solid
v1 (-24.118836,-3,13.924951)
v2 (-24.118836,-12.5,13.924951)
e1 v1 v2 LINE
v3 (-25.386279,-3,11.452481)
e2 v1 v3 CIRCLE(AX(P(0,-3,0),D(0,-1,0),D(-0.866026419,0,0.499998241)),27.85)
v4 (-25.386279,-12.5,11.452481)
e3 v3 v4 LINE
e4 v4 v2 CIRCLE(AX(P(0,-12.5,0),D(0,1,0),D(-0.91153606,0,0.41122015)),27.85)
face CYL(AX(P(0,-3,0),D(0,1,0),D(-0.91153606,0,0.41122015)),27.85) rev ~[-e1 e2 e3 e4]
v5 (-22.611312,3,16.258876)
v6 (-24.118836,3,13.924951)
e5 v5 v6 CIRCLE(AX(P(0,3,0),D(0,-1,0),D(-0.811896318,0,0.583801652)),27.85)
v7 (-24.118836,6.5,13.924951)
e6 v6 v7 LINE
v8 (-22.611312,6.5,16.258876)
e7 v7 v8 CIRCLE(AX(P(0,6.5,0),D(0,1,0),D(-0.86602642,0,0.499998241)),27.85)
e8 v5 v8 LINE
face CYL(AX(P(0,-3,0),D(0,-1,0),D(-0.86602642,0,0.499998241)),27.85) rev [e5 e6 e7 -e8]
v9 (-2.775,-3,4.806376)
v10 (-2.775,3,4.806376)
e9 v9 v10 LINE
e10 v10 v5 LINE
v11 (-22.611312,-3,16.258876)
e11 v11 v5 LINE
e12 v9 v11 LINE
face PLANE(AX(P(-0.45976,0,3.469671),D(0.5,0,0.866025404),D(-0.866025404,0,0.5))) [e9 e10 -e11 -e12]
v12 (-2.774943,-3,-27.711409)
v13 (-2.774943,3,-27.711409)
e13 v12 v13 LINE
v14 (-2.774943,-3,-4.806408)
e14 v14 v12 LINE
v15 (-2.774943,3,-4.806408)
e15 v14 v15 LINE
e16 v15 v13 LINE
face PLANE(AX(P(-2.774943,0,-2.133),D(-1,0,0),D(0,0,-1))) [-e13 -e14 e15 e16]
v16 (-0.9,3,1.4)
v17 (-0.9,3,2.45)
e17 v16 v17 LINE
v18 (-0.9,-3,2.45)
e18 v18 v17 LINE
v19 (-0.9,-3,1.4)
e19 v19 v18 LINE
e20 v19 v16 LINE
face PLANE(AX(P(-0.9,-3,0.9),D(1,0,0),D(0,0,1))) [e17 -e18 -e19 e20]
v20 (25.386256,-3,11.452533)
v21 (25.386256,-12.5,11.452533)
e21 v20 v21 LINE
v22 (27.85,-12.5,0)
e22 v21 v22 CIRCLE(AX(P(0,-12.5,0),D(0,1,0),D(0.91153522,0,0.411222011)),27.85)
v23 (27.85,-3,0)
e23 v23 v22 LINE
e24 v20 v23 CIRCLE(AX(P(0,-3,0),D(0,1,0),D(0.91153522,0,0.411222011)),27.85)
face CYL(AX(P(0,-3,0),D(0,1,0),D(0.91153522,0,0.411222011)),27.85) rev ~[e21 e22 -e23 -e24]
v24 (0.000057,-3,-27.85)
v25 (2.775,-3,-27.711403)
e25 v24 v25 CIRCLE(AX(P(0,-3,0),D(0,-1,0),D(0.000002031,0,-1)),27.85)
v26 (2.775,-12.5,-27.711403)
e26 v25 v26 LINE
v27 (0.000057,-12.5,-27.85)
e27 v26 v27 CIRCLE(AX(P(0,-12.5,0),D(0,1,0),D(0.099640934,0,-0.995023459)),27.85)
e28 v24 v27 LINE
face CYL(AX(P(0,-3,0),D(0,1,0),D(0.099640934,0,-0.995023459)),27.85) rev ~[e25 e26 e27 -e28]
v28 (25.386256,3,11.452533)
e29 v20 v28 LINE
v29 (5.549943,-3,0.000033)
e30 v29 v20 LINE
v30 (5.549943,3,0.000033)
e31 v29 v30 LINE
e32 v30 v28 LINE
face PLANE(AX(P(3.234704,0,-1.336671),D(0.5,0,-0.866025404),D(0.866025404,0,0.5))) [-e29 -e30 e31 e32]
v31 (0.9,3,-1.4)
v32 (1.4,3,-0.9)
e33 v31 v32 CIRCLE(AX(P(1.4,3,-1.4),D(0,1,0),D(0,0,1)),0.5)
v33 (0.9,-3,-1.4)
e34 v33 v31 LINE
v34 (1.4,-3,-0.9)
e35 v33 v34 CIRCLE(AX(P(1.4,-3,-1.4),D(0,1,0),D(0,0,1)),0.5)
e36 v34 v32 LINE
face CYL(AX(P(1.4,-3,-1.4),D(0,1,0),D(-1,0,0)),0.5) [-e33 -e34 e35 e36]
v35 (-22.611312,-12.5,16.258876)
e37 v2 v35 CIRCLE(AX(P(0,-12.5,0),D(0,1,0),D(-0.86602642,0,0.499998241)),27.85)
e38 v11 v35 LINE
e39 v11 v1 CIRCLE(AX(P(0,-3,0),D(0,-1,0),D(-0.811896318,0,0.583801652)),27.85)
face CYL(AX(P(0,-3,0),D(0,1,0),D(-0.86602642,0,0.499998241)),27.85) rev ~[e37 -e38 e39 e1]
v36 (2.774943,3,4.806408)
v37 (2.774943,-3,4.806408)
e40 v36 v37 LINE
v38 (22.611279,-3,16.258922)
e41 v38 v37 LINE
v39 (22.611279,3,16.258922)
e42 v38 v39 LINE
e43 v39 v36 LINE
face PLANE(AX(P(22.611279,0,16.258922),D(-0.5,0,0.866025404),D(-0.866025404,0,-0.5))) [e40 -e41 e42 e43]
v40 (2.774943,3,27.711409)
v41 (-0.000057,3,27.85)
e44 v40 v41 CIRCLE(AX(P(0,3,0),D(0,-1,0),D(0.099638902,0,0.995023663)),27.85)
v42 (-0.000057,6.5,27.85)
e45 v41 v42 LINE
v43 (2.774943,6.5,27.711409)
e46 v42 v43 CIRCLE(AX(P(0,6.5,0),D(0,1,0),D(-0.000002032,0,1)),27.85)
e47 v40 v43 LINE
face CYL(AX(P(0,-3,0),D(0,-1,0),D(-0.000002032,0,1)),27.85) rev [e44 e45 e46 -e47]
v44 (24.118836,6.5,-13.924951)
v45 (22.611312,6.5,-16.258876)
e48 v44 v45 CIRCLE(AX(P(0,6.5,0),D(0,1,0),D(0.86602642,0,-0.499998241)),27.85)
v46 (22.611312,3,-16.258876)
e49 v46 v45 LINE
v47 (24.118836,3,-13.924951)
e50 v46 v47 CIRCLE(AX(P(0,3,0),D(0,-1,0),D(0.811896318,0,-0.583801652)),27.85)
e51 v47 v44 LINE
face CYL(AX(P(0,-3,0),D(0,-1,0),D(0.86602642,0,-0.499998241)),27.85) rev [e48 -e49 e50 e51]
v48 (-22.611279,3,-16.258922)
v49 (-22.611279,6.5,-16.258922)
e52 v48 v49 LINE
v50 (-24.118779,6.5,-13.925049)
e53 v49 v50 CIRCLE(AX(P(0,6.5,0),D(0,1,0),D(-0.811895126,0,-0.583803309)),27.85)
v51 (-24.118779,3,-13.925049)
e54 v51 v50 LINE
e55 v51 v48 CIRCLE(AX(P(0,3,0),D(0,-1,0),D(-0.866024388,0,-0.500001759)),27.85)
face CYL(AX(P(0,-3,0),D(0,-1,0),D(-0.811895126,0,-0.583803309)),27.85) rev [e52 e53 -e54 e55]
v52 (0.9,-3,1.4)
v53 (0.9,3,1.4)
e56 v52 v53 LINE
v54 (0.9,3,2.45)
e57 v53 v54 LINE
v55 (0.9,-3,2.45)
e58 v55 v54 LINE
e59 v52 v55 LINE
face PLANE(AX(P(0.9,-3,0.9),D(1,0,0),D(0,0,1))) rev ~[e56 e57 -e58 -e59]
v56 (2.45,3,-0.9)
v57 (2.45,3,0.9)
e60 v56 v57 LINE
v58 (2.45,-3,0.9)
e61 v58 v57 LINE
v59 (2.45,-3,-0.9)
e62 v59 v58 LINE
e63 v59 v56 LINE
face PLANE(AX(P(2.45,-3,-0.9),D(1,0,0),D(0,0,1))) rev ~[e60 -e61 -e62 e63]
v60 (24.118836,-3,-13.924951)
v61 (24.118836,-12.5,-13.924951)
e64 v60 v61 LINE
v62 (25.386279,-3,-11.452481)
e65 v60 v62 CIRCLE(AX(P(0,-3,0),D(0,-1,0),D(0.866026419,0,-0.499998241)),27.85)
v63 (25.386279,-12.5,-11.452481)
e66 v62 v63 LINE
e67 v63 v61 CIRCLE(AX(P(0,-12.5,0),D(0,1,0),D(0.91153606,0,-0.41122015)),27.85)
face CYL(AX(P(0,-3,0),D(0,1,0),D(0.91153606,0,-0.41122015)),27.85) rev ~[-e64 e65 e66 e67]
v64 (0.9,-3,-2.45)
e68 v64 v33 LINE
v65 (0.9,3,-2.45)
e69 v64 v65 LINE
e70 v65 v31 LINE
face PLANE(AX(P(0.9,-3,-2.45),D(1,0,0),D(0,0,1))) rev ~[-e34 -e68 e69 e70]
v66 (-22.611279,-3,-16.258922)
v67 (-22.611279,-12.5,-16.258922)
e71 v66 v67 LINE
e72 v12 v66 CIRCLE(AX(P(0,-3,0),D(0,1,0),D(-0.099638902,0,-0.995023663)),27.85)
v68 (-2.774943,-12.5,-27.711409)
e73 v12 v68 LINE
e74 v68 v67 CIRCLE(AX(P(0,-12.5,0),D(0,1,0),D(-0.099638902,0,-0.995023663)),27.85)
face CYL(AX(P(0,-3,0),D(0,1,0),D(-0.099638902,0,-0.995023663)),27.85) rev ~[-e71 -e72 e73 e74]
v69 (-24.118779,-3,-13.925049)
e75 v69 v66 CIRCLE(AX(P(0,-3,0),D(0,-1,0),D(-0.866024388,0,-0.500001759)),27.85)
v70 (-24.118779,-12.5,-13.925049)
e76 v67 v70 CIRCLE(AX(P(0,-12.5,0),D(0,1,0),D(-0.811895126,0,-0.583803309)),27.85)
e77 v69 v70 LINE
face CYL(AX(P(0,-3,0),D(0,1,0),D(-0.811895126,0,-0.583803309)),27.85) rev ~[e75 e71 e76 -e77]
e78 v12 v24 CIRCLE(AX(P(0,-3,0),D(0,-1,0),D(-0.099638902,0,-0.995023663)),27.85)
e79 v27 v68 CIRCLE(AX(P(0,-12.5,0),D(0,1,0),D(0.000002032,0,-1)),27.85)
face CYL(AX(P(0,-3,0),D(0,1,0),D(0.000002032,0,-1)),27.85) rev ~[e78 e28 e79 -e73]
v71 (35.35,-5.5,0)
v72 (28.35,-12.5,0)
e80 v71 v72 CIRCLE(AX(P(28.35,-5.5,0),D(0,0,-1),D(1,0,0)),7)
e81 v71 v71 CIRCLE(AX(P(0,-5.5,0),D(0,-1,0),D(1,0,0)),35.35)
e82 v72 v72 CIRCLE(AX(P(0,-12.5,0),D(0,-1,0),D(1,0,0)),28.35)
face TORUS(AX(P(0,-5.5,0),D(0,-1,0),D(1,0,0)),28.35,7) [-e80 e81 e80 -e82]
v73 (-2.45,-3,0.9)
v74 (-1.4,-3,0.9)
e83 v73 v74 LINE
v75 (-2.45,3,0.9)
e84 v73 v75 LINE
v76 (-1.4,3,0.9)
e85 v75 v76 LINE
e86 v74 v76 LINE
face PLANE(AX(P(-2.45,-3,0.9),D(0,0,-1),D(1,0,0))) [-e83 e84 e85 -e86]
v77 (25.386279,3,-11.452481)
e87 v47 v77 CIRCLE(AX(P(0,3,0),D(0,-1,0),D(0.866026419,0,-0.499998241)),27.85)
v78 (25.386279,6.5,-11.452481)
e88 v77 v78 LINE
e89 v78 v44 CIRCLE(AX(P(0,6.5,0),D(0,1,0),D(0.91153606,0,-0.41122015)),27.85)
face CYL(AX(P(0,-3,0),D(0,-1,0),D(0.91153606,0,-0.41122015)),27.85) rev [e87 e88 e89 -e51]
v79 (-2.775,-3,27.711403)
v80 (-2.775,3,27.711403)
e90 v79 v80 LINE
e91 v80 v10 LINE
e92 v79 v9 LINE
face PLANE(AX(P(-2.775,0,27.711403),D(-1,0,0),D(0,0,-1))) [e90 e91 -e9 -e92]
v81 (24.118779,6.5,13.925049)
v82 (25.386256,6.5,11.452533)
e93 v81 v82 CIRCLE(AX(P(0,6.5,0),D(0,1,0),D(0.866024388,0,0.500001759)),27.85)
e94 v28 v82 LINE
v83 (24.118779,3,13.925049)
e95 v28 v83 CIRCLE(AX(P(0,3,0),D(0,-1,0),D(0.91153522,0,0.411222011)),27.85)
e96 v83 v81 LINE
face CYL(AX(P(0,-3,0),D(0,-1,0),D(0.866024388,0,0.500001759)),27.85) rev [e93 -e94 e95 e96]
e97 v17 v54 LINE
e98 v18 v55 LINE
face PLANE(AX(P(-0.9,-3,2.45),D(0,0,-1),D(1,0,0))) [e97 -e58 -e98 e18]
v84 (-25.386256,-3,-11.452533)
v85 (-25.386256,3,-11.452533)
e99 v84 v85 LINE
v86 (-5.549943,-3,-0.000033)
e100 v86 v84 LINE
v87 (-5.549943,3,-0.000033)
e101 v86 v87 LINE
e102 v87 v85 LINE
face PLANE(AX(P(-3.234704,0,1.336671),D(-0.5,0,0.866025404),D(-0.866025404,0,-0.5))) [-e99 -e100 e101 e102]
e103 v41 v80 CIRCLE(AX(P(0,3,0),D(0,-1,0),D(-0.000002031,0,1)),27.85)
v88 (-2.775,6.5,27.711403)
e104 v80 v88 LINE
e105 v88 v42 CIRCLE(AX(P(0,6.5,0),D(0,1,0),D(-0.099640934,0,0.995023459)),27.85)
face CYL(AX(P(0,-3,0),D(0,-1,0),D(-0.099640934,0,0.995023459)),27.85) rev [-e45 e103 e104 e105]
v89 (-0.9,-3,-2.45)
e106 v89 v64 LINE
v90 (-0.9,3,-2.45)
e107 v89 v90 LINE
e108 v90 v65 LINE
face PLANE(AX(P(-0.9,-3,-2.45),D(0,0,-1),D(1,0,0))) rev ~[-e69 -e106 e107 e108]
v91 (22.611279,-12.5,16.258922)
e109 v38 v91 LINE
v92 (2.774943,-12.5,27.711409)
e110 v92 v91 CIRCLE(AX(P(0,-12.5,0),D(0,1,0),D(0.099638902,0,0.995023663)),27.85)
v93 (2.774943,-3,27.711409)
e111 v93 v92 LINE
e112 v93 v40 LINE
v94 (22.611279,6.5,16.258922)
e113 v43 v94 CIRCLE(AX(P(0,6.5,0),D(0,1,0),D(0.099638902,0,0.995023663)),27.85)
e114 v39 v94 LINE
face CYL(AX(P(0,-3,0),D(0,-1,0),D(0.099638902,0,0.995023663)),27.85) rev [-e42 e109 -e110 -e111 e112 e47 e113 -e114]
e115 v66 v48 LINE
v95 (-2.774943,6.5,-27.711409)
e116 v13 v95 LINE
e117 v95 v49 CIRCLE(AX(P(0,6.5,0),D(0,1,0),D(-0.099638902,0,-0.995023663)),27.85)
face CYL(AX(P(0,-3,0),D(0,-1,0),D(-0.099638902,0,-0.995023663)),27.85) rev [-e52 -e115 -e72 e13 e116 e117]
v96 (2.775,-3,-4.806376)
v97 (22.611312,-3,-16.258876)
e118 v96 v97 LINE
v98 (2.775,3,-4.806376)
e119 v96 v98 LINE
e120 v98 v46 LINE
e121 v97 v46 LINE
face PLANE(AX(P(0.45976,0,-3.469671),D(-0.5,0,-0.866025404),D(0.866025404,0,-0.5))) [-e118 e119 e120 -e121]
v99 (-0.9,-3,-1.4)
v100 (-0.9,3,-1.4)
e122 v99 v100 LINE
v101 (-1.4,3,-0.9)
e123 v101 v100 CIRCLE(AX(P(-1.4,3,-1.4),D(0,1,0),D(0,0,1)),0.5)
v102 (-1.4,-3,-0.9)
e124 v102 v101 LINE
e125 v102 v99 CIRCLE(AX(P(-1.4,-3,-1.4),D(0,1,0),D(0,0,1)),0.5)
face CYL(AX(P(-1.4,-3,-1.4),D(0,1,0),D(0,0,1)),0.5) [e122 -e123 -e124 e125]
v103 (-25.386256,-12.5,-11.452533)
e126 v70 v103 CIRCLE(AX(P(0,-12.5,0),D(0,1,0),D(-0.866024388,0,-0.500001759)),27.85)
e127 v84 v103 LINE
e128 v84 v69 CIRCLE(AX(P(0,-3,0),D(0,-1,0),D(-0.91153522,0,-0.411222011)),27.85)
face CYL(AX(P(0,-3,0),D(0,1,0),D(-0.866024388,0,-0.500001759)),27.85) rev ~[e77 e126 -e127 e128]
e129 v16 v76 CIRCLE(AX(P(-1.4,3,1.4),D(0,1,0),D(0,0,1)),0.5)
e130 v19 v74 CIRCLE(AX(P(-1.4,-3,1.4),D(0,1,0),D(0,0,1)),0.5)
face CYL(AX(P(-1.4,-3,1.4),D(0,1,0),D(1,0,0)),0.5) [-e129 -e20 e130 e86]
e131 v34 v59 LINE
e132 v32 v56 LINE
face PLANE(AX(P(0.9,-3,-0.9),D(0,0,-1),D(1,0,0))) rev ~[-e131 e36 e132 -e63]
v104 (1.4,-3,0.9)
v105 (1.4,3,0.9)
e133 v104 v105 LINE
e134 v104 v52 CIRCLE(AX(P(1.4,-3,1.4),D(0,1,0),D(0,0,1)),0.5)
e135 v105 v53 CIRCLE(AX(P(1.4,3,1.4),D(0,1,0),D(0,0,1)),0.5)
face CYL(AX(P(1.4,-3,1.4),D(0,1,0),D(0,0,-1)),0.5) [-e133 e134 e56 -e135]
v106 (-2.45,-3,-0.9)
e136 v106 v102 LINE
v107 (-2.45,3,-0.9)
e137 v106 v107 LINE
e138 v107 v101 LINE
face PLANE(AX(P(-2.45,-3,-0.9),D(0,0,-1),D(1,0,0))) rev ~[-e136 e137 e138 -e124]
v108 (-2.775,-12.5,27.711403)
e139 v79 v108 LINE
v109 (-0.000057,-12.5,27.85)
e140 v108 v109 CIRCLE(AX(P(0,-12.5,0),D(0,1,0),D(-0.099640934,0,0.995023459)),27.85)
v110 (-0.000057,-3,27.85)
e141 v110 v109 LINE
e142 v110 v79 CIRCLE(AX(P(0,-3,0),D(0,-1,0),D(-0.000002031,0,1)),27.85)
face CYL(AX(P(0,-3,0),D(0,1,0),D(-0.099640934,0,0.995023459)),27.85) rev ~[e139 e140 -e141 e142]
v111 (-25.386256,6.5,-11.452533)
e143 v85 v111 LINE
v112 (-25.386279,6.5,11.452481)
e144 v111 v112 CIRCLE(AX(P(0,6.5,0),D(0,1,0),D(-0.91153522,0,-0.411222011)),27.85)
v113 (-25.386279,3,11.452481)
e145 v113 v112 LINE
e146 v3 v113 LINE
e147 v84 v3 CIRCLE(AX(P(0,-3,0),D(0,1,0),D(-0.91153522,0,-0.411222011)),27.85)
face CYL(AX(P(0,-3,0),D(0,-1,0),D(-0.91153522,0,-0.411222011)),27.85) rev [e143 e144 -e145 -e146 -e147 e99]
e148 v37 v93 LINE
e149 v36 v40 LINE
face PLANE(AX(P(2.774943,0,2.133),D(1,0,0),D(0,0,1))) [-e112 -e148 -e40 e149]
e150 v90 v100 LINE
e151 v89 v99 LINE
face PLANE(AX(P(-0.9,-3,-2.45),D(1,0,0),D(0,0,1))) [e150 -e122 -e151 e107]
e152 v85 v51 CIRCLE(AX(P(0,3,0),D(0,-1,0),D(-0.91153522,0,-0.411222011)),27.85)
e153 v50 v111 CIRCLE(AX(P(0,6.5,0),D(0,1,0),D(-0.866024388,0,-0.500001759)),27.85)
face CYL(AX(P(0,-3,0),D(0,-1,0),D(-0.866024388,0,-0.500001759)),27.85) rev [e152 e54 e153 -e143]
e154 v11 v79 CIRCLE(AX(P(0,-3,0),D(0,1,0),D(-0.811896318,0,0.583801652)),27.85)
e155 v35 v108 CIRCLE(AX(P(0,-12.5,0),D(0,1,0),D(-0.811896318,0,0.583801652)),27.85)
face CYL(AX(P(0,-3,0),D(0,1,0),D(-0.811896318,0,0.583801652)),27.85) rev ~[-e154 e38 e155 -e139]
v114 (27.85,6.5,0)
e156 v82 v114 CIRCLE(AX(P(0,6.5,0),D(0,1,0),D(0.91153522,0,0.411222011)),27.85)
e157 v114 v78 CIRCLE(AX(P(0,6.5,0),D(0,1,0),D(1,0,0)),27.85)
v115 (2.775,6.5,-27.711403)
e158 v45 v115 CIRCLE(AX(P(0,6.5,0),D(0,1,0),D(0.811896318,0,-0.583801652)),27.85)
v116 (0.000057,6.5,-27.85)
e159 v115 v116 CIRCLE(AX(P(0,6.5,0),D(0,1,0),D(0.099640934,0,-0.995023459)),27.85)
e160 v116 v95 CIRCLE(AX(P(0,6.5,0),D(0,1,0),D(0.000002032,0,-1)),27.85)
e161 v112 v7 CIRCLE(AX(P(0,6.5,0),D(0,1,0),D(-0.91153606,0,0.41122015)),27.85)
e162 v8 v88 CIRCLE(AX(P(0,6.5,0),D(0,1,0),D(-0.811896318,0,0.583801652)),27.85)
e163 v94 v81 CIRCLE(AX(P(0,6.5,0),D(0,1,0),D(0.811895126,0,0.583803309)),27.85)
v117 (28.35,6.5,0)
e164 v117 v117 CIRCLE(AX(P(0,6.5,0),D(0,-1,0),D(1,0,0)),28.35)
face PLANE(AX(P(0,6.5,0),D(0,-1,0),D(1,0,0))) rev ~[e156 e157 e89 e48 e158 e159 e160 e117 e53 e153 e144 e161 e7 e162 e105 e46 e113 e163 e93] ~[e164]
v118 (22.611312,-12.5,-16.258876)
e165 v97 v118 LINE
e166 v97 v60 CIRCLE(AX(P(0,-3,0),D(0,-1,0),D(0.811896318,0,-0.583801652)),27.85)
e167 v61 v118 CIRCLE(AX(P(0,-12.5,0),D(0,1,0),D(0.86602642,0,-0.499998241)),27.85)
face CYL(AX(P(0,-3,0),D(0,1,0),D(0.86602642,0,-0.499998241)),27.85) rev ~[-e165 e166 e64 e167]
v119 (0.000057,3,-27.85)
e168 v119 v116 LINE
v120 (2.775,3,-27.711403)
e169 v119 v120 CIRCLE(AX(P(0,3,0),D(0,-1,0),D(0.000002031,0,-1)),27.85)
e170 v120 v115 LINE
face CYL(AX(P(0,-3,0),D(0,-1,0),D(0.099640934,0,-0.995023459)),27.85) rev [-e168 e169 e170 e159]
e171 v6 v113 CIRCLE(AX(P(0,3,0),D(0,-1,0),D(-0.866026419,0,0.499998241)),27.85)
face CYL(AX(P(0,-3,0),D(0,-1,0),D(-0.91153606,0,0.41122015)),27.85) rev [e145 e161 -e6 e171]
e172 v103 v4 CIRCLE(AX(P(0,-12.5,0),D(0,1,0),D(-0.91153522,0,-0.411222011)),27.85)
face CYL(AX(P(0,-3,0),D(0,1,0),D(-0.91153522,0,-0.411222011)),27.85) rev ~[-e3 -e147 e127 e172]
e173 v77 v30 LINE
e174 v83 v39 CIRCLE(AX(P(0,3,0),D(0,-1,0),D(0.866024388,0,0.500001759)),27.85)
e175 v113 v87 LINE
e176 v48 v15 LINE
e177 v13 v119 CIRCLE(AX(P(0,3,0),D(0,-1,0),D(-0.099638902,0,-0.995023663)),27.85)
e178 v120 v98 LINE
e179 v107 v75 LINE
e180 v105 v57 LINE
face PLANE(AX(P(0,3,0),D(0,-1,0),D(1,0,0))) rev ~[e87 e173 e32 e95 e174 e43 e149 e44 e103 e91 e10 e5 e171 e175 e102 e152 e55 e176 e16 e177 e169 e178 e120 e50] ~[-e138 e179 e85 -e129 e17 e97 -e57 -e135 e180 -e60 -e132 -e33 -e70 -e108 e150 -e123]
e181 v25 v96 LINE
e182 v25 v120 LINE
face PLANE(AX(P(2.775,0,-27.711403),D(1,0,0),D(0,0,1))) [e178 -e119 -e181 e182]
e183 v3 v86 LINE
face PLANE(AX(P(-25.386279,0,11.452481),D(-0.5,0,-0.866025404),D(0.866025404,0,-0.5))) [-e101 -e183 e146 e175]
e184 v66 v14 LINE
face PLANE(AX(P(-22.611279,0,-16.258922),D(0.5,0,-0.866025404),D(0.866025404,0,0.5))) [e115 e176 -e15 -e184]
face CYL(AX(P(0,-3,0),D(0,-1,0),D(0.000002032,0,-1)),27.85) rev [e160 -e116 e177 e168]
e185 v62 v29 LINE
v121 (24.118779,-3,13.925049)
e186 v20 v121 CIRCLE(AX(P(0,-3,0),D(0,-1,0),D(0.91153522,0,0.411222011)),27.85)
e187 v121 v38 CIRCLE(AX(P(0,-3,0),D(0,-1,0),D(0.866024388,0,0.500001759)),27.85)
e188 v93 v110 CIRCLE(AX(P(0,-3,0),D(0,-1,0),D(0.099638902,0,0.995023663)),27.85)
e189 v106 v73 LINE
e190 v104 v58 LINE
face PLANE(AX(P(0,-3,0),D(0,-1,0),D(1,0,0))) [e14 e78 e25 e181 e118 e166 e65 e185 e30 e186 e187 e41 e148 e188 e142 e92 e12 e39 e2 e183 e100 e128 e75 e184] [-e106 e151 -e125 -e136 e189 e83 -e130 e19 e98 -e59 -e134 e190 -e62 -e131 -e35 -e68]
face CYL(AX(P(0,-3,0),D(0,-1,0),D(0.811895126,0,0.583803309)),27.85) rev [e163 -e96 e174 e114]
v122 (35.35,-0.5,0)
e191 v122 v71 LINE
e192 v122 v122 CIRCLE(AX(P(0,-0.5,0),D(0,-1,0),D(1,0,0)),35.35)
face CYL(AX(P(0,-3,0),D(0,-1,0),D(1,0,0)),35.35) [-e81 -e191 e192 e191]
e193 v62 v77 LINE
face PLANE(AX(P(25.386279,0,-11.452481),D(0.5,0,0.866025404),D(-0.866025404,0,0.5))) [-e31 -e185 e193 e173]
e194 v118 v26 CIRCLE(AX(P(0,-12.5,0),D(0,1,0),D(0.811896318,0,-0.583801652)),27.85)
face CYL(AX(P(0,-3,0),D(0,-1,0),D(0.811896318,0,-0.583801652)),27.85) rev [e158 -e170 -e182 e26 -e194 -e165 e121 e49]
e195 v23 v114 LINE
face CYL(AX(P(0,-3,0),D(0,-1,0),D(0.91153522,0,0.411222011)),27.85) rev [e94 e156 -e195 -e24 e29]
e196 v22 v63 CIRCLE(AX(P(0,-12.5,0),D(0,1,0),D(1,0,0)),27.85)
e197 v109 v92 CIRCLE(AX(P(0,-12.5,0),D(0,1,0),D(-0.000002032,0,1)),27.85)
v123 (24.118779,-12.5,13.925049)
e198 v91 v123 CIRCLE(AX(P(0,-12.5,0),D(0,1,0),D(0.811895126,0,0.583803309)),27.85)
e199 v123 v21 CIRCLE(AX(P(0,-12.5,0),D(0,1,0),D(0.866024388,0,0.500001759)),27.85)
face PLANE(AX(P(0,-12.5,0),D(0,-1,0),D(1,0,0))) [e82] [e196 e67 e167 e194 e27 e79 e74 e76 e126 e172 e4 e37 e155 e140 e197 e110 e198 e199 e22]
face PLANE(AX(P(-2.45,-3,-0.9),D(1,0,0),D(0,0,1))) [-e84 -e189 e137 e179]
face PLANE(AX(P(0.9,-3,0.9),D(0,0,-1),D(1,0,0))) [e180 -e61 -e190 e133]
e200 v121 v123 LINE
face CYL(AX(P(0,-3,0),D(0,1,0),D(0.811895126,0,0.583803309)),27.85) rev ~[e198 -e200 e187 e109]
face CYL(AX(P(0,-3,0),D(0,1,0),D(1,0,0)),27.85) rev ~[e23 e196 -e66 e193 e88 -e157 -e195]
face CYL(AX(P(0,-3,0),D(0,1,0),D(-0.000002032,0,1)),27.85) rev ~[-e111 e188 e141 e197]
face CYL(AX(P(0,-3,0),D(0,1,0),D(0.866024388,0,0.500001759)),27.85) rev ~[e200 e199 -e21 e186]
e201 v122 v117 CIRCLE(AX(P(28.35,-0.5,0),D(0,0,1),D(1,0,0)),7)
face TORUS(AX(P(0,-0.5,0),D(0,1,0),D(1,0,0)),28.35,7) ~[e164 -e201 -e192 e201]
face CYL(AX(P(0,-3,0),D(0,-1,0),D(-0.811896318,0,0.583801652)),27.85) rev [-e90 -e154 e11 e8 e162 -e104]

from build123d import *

# Parameters (mm, degrees)
F1_DEPTH = 3
F2_COUNT = 6
F3_R     = 35.35
F4_DEPTH = 9.5
F5_R     = 7
F6_R     = 3.5
F7_DEPTH = 3
F8_W     = 1.55
F8_H     = 1.8
F8_W_2   = 1.8
F8_H_2   = 1.55
F9_DEPTH = 25
F10_R    = 0.5


with BuildPart() as f1:
    # F0 (on Front) → F1 (new body, symmetric)
    with BuildSketch(Plane.XZ):
        with BuildLine():
            ThreePointArc((-2.775, 2.1329263935), (-4.6419e-05, 3.4999999997), (2.7749434229, 2.133))
            Line((2.7749434229, 2.133), (2.7749434229, 27.7114090042))
            ThreePointArc((2.7749434229, 27.7114090042), (1.3891728178, 27.8153320829), (-5.65771e-05, 27.8499999999))
            ThreePointArc((-5.65771e-05, 27.8499999999), (-1.3892577191, 27.8153278426), (-2.775, 27.7114033387))
            Line((-2.775, 27.7114033387), (-2.775, 2.1329263935))
        make_face()
    extrude(amount=F1_DEPTH, both=True)

    # F2: F1 ×6 about axis
    f2_axis = Axis((0, 0, 0), (0, -1, 0))


with BuildPart() as f1_1:
    add(f1.part)
    for i in range(1, F2_COUNT):
        add(f1.part.rotate(f2_axis, i * 360 / F2_COUNT))

    # F3 (on face) → F4 (join, symmetric)
    with BuildSketch(Plane.XZ.offset(3)):
        Circle(F3_R)
        with BuildLine():
            ThreePointArc((25.3862558838, 11.4525330038), (27.2270979574, 5.8572721312), (27.85, 0))
            ThreePointArc((27.85, 0), (27.2271039366, -5.857244337), (25.3862792658, -11.4524811738))
            ThreePointArc((25.3862792658, -11.4524811738), (24.7834093858, -12.7045314441), (24.1188357839, -13.9249510028))
            ThreePointArc((24.1188357839, -13.9249510028), (23.3941977896, -15.1107249919), (22.6113124609, -16.2588760004))
            ThreePointArc((22.6113124609, -16.2588760004), (13.9250246211, -24.1187932804), (2.775, -27.7114033387))
            ThreePointArc((2.775, -27.7114033387), (1.3892577191, -27.8153278426), (5.65771e-05, -27.8499999999))
            ThreePointArc((5.65771e-05, -27.8499999999), (-1.3891728178, -27.8153320829), (-2.7749434229, -27.7114090042))
            ThreePointArc((-2.7749434229, -27.7114090042), (-13.9249753789, -24.1188217104), (-22.6112792658, -16.2589221649))
            ThreePointArc((-22.6112792658, -16.2589221649), (-23.3941516667, -15.1107963985), (-24.1187792068, -13.9250489972))
            ThreePointArc((-24.1187792068, -13.9250489972), (-24.7833706074, -12.704607091), (-25.3862558838, -11.4525330038))
            ThreePointArc((-25.3862558838, -11.4525330038), (-27.85, -2.843e-05), (-25.3862792658, 11.4524811738))
            ThreePointArc((-25.3862792658, 11.4524811738), (-24.7834093858, 12.7045314441), (-24.1188357839, 13.9249510028))
            ThreePointArc((-24.1188357839, 13.9249510028), (-23.3941977896, 15.1107249919), (-22.6113124609, 16.2588760004))
            ThreePointArc((-22.6113124609, 16.2588760004), (-13.9250246211, 24.1187932804), (-2.775, 27.7114033387))
            ThreePointArc((-2.775, 27.7114033387), (-1.3892577191, 27.8153278426), (-5.65771e-05, 27.8499999999))
            ThreePointArc((-5.65771e-05, 27.8499999999), (1.3891728178, 27.8153320829), (2.7749434229, 27.7114090042))
            ThreePointArc((2.7749434229, 27.7114090042), (13.9249753789, 24.1188217104), (22.6112792658, 16.2589221649))
            ThreePointArc((22.6112792658, 16.2589221649), (23.3941516667, 15.1107963985), (24.1187792068, 13.9250489972))
            ThreePointArc((24.1187792068, 13.9250489972), (24.7833706074, 12.704607091), (25.3862558838, 11.4525330038))
        make_face(mode=Mode.SUBTRACT)
    extrude(amount=F4_DEPTH, both=True)

    # F5
    f5_edges = [f1_1.edges().sort_by_distance(p)[0] for p in [
        (-35.35, 6.5, 0),
        (-35.35, -12.5, 0),
    ]]
    fillet(f5_edges, radius=F5_R)

    # F6 (on Front) → F7 (join, symmetric)
    with BuildSketch(Plane.XZ):
        Circle(F6_R)
    extrude(amount=F7_DEPTH, both=True)

    # F8 (on face) → F9 (cut)
    with BuildSketch(Plane.XZ.offset(3)):
        with Locations((-1.675, 0)):
            Rectangle(F8_W, F8_H)
        with Locations((0, 1.675)):
            Rectangle(F8_W_2, F8_H_2)
        Rectangle(F8_W_2, F8_H)
        with Locations((1.675, 0)):
            Rectangle(F8_W, F8_H)
        with Locations((0, -1.675)):
            Rectangle(F8_W_2, F8_H_2)
    extrude(amount=-F9_DEPTH, mode=Mode.SUBTRACT)

    # F10
    f10_edges = [f1_1.edges().sort_by_distance(p)[0] for p in [
        (0.9, 0, 0.9),
        (0.9, 0, -0.9),
        (-0.9, 0, -0.9),
        (-0.9, 0, 0.9),
    ]]
    fillet(f10_edges, radius=F10_R)


solid = f1_1.part
